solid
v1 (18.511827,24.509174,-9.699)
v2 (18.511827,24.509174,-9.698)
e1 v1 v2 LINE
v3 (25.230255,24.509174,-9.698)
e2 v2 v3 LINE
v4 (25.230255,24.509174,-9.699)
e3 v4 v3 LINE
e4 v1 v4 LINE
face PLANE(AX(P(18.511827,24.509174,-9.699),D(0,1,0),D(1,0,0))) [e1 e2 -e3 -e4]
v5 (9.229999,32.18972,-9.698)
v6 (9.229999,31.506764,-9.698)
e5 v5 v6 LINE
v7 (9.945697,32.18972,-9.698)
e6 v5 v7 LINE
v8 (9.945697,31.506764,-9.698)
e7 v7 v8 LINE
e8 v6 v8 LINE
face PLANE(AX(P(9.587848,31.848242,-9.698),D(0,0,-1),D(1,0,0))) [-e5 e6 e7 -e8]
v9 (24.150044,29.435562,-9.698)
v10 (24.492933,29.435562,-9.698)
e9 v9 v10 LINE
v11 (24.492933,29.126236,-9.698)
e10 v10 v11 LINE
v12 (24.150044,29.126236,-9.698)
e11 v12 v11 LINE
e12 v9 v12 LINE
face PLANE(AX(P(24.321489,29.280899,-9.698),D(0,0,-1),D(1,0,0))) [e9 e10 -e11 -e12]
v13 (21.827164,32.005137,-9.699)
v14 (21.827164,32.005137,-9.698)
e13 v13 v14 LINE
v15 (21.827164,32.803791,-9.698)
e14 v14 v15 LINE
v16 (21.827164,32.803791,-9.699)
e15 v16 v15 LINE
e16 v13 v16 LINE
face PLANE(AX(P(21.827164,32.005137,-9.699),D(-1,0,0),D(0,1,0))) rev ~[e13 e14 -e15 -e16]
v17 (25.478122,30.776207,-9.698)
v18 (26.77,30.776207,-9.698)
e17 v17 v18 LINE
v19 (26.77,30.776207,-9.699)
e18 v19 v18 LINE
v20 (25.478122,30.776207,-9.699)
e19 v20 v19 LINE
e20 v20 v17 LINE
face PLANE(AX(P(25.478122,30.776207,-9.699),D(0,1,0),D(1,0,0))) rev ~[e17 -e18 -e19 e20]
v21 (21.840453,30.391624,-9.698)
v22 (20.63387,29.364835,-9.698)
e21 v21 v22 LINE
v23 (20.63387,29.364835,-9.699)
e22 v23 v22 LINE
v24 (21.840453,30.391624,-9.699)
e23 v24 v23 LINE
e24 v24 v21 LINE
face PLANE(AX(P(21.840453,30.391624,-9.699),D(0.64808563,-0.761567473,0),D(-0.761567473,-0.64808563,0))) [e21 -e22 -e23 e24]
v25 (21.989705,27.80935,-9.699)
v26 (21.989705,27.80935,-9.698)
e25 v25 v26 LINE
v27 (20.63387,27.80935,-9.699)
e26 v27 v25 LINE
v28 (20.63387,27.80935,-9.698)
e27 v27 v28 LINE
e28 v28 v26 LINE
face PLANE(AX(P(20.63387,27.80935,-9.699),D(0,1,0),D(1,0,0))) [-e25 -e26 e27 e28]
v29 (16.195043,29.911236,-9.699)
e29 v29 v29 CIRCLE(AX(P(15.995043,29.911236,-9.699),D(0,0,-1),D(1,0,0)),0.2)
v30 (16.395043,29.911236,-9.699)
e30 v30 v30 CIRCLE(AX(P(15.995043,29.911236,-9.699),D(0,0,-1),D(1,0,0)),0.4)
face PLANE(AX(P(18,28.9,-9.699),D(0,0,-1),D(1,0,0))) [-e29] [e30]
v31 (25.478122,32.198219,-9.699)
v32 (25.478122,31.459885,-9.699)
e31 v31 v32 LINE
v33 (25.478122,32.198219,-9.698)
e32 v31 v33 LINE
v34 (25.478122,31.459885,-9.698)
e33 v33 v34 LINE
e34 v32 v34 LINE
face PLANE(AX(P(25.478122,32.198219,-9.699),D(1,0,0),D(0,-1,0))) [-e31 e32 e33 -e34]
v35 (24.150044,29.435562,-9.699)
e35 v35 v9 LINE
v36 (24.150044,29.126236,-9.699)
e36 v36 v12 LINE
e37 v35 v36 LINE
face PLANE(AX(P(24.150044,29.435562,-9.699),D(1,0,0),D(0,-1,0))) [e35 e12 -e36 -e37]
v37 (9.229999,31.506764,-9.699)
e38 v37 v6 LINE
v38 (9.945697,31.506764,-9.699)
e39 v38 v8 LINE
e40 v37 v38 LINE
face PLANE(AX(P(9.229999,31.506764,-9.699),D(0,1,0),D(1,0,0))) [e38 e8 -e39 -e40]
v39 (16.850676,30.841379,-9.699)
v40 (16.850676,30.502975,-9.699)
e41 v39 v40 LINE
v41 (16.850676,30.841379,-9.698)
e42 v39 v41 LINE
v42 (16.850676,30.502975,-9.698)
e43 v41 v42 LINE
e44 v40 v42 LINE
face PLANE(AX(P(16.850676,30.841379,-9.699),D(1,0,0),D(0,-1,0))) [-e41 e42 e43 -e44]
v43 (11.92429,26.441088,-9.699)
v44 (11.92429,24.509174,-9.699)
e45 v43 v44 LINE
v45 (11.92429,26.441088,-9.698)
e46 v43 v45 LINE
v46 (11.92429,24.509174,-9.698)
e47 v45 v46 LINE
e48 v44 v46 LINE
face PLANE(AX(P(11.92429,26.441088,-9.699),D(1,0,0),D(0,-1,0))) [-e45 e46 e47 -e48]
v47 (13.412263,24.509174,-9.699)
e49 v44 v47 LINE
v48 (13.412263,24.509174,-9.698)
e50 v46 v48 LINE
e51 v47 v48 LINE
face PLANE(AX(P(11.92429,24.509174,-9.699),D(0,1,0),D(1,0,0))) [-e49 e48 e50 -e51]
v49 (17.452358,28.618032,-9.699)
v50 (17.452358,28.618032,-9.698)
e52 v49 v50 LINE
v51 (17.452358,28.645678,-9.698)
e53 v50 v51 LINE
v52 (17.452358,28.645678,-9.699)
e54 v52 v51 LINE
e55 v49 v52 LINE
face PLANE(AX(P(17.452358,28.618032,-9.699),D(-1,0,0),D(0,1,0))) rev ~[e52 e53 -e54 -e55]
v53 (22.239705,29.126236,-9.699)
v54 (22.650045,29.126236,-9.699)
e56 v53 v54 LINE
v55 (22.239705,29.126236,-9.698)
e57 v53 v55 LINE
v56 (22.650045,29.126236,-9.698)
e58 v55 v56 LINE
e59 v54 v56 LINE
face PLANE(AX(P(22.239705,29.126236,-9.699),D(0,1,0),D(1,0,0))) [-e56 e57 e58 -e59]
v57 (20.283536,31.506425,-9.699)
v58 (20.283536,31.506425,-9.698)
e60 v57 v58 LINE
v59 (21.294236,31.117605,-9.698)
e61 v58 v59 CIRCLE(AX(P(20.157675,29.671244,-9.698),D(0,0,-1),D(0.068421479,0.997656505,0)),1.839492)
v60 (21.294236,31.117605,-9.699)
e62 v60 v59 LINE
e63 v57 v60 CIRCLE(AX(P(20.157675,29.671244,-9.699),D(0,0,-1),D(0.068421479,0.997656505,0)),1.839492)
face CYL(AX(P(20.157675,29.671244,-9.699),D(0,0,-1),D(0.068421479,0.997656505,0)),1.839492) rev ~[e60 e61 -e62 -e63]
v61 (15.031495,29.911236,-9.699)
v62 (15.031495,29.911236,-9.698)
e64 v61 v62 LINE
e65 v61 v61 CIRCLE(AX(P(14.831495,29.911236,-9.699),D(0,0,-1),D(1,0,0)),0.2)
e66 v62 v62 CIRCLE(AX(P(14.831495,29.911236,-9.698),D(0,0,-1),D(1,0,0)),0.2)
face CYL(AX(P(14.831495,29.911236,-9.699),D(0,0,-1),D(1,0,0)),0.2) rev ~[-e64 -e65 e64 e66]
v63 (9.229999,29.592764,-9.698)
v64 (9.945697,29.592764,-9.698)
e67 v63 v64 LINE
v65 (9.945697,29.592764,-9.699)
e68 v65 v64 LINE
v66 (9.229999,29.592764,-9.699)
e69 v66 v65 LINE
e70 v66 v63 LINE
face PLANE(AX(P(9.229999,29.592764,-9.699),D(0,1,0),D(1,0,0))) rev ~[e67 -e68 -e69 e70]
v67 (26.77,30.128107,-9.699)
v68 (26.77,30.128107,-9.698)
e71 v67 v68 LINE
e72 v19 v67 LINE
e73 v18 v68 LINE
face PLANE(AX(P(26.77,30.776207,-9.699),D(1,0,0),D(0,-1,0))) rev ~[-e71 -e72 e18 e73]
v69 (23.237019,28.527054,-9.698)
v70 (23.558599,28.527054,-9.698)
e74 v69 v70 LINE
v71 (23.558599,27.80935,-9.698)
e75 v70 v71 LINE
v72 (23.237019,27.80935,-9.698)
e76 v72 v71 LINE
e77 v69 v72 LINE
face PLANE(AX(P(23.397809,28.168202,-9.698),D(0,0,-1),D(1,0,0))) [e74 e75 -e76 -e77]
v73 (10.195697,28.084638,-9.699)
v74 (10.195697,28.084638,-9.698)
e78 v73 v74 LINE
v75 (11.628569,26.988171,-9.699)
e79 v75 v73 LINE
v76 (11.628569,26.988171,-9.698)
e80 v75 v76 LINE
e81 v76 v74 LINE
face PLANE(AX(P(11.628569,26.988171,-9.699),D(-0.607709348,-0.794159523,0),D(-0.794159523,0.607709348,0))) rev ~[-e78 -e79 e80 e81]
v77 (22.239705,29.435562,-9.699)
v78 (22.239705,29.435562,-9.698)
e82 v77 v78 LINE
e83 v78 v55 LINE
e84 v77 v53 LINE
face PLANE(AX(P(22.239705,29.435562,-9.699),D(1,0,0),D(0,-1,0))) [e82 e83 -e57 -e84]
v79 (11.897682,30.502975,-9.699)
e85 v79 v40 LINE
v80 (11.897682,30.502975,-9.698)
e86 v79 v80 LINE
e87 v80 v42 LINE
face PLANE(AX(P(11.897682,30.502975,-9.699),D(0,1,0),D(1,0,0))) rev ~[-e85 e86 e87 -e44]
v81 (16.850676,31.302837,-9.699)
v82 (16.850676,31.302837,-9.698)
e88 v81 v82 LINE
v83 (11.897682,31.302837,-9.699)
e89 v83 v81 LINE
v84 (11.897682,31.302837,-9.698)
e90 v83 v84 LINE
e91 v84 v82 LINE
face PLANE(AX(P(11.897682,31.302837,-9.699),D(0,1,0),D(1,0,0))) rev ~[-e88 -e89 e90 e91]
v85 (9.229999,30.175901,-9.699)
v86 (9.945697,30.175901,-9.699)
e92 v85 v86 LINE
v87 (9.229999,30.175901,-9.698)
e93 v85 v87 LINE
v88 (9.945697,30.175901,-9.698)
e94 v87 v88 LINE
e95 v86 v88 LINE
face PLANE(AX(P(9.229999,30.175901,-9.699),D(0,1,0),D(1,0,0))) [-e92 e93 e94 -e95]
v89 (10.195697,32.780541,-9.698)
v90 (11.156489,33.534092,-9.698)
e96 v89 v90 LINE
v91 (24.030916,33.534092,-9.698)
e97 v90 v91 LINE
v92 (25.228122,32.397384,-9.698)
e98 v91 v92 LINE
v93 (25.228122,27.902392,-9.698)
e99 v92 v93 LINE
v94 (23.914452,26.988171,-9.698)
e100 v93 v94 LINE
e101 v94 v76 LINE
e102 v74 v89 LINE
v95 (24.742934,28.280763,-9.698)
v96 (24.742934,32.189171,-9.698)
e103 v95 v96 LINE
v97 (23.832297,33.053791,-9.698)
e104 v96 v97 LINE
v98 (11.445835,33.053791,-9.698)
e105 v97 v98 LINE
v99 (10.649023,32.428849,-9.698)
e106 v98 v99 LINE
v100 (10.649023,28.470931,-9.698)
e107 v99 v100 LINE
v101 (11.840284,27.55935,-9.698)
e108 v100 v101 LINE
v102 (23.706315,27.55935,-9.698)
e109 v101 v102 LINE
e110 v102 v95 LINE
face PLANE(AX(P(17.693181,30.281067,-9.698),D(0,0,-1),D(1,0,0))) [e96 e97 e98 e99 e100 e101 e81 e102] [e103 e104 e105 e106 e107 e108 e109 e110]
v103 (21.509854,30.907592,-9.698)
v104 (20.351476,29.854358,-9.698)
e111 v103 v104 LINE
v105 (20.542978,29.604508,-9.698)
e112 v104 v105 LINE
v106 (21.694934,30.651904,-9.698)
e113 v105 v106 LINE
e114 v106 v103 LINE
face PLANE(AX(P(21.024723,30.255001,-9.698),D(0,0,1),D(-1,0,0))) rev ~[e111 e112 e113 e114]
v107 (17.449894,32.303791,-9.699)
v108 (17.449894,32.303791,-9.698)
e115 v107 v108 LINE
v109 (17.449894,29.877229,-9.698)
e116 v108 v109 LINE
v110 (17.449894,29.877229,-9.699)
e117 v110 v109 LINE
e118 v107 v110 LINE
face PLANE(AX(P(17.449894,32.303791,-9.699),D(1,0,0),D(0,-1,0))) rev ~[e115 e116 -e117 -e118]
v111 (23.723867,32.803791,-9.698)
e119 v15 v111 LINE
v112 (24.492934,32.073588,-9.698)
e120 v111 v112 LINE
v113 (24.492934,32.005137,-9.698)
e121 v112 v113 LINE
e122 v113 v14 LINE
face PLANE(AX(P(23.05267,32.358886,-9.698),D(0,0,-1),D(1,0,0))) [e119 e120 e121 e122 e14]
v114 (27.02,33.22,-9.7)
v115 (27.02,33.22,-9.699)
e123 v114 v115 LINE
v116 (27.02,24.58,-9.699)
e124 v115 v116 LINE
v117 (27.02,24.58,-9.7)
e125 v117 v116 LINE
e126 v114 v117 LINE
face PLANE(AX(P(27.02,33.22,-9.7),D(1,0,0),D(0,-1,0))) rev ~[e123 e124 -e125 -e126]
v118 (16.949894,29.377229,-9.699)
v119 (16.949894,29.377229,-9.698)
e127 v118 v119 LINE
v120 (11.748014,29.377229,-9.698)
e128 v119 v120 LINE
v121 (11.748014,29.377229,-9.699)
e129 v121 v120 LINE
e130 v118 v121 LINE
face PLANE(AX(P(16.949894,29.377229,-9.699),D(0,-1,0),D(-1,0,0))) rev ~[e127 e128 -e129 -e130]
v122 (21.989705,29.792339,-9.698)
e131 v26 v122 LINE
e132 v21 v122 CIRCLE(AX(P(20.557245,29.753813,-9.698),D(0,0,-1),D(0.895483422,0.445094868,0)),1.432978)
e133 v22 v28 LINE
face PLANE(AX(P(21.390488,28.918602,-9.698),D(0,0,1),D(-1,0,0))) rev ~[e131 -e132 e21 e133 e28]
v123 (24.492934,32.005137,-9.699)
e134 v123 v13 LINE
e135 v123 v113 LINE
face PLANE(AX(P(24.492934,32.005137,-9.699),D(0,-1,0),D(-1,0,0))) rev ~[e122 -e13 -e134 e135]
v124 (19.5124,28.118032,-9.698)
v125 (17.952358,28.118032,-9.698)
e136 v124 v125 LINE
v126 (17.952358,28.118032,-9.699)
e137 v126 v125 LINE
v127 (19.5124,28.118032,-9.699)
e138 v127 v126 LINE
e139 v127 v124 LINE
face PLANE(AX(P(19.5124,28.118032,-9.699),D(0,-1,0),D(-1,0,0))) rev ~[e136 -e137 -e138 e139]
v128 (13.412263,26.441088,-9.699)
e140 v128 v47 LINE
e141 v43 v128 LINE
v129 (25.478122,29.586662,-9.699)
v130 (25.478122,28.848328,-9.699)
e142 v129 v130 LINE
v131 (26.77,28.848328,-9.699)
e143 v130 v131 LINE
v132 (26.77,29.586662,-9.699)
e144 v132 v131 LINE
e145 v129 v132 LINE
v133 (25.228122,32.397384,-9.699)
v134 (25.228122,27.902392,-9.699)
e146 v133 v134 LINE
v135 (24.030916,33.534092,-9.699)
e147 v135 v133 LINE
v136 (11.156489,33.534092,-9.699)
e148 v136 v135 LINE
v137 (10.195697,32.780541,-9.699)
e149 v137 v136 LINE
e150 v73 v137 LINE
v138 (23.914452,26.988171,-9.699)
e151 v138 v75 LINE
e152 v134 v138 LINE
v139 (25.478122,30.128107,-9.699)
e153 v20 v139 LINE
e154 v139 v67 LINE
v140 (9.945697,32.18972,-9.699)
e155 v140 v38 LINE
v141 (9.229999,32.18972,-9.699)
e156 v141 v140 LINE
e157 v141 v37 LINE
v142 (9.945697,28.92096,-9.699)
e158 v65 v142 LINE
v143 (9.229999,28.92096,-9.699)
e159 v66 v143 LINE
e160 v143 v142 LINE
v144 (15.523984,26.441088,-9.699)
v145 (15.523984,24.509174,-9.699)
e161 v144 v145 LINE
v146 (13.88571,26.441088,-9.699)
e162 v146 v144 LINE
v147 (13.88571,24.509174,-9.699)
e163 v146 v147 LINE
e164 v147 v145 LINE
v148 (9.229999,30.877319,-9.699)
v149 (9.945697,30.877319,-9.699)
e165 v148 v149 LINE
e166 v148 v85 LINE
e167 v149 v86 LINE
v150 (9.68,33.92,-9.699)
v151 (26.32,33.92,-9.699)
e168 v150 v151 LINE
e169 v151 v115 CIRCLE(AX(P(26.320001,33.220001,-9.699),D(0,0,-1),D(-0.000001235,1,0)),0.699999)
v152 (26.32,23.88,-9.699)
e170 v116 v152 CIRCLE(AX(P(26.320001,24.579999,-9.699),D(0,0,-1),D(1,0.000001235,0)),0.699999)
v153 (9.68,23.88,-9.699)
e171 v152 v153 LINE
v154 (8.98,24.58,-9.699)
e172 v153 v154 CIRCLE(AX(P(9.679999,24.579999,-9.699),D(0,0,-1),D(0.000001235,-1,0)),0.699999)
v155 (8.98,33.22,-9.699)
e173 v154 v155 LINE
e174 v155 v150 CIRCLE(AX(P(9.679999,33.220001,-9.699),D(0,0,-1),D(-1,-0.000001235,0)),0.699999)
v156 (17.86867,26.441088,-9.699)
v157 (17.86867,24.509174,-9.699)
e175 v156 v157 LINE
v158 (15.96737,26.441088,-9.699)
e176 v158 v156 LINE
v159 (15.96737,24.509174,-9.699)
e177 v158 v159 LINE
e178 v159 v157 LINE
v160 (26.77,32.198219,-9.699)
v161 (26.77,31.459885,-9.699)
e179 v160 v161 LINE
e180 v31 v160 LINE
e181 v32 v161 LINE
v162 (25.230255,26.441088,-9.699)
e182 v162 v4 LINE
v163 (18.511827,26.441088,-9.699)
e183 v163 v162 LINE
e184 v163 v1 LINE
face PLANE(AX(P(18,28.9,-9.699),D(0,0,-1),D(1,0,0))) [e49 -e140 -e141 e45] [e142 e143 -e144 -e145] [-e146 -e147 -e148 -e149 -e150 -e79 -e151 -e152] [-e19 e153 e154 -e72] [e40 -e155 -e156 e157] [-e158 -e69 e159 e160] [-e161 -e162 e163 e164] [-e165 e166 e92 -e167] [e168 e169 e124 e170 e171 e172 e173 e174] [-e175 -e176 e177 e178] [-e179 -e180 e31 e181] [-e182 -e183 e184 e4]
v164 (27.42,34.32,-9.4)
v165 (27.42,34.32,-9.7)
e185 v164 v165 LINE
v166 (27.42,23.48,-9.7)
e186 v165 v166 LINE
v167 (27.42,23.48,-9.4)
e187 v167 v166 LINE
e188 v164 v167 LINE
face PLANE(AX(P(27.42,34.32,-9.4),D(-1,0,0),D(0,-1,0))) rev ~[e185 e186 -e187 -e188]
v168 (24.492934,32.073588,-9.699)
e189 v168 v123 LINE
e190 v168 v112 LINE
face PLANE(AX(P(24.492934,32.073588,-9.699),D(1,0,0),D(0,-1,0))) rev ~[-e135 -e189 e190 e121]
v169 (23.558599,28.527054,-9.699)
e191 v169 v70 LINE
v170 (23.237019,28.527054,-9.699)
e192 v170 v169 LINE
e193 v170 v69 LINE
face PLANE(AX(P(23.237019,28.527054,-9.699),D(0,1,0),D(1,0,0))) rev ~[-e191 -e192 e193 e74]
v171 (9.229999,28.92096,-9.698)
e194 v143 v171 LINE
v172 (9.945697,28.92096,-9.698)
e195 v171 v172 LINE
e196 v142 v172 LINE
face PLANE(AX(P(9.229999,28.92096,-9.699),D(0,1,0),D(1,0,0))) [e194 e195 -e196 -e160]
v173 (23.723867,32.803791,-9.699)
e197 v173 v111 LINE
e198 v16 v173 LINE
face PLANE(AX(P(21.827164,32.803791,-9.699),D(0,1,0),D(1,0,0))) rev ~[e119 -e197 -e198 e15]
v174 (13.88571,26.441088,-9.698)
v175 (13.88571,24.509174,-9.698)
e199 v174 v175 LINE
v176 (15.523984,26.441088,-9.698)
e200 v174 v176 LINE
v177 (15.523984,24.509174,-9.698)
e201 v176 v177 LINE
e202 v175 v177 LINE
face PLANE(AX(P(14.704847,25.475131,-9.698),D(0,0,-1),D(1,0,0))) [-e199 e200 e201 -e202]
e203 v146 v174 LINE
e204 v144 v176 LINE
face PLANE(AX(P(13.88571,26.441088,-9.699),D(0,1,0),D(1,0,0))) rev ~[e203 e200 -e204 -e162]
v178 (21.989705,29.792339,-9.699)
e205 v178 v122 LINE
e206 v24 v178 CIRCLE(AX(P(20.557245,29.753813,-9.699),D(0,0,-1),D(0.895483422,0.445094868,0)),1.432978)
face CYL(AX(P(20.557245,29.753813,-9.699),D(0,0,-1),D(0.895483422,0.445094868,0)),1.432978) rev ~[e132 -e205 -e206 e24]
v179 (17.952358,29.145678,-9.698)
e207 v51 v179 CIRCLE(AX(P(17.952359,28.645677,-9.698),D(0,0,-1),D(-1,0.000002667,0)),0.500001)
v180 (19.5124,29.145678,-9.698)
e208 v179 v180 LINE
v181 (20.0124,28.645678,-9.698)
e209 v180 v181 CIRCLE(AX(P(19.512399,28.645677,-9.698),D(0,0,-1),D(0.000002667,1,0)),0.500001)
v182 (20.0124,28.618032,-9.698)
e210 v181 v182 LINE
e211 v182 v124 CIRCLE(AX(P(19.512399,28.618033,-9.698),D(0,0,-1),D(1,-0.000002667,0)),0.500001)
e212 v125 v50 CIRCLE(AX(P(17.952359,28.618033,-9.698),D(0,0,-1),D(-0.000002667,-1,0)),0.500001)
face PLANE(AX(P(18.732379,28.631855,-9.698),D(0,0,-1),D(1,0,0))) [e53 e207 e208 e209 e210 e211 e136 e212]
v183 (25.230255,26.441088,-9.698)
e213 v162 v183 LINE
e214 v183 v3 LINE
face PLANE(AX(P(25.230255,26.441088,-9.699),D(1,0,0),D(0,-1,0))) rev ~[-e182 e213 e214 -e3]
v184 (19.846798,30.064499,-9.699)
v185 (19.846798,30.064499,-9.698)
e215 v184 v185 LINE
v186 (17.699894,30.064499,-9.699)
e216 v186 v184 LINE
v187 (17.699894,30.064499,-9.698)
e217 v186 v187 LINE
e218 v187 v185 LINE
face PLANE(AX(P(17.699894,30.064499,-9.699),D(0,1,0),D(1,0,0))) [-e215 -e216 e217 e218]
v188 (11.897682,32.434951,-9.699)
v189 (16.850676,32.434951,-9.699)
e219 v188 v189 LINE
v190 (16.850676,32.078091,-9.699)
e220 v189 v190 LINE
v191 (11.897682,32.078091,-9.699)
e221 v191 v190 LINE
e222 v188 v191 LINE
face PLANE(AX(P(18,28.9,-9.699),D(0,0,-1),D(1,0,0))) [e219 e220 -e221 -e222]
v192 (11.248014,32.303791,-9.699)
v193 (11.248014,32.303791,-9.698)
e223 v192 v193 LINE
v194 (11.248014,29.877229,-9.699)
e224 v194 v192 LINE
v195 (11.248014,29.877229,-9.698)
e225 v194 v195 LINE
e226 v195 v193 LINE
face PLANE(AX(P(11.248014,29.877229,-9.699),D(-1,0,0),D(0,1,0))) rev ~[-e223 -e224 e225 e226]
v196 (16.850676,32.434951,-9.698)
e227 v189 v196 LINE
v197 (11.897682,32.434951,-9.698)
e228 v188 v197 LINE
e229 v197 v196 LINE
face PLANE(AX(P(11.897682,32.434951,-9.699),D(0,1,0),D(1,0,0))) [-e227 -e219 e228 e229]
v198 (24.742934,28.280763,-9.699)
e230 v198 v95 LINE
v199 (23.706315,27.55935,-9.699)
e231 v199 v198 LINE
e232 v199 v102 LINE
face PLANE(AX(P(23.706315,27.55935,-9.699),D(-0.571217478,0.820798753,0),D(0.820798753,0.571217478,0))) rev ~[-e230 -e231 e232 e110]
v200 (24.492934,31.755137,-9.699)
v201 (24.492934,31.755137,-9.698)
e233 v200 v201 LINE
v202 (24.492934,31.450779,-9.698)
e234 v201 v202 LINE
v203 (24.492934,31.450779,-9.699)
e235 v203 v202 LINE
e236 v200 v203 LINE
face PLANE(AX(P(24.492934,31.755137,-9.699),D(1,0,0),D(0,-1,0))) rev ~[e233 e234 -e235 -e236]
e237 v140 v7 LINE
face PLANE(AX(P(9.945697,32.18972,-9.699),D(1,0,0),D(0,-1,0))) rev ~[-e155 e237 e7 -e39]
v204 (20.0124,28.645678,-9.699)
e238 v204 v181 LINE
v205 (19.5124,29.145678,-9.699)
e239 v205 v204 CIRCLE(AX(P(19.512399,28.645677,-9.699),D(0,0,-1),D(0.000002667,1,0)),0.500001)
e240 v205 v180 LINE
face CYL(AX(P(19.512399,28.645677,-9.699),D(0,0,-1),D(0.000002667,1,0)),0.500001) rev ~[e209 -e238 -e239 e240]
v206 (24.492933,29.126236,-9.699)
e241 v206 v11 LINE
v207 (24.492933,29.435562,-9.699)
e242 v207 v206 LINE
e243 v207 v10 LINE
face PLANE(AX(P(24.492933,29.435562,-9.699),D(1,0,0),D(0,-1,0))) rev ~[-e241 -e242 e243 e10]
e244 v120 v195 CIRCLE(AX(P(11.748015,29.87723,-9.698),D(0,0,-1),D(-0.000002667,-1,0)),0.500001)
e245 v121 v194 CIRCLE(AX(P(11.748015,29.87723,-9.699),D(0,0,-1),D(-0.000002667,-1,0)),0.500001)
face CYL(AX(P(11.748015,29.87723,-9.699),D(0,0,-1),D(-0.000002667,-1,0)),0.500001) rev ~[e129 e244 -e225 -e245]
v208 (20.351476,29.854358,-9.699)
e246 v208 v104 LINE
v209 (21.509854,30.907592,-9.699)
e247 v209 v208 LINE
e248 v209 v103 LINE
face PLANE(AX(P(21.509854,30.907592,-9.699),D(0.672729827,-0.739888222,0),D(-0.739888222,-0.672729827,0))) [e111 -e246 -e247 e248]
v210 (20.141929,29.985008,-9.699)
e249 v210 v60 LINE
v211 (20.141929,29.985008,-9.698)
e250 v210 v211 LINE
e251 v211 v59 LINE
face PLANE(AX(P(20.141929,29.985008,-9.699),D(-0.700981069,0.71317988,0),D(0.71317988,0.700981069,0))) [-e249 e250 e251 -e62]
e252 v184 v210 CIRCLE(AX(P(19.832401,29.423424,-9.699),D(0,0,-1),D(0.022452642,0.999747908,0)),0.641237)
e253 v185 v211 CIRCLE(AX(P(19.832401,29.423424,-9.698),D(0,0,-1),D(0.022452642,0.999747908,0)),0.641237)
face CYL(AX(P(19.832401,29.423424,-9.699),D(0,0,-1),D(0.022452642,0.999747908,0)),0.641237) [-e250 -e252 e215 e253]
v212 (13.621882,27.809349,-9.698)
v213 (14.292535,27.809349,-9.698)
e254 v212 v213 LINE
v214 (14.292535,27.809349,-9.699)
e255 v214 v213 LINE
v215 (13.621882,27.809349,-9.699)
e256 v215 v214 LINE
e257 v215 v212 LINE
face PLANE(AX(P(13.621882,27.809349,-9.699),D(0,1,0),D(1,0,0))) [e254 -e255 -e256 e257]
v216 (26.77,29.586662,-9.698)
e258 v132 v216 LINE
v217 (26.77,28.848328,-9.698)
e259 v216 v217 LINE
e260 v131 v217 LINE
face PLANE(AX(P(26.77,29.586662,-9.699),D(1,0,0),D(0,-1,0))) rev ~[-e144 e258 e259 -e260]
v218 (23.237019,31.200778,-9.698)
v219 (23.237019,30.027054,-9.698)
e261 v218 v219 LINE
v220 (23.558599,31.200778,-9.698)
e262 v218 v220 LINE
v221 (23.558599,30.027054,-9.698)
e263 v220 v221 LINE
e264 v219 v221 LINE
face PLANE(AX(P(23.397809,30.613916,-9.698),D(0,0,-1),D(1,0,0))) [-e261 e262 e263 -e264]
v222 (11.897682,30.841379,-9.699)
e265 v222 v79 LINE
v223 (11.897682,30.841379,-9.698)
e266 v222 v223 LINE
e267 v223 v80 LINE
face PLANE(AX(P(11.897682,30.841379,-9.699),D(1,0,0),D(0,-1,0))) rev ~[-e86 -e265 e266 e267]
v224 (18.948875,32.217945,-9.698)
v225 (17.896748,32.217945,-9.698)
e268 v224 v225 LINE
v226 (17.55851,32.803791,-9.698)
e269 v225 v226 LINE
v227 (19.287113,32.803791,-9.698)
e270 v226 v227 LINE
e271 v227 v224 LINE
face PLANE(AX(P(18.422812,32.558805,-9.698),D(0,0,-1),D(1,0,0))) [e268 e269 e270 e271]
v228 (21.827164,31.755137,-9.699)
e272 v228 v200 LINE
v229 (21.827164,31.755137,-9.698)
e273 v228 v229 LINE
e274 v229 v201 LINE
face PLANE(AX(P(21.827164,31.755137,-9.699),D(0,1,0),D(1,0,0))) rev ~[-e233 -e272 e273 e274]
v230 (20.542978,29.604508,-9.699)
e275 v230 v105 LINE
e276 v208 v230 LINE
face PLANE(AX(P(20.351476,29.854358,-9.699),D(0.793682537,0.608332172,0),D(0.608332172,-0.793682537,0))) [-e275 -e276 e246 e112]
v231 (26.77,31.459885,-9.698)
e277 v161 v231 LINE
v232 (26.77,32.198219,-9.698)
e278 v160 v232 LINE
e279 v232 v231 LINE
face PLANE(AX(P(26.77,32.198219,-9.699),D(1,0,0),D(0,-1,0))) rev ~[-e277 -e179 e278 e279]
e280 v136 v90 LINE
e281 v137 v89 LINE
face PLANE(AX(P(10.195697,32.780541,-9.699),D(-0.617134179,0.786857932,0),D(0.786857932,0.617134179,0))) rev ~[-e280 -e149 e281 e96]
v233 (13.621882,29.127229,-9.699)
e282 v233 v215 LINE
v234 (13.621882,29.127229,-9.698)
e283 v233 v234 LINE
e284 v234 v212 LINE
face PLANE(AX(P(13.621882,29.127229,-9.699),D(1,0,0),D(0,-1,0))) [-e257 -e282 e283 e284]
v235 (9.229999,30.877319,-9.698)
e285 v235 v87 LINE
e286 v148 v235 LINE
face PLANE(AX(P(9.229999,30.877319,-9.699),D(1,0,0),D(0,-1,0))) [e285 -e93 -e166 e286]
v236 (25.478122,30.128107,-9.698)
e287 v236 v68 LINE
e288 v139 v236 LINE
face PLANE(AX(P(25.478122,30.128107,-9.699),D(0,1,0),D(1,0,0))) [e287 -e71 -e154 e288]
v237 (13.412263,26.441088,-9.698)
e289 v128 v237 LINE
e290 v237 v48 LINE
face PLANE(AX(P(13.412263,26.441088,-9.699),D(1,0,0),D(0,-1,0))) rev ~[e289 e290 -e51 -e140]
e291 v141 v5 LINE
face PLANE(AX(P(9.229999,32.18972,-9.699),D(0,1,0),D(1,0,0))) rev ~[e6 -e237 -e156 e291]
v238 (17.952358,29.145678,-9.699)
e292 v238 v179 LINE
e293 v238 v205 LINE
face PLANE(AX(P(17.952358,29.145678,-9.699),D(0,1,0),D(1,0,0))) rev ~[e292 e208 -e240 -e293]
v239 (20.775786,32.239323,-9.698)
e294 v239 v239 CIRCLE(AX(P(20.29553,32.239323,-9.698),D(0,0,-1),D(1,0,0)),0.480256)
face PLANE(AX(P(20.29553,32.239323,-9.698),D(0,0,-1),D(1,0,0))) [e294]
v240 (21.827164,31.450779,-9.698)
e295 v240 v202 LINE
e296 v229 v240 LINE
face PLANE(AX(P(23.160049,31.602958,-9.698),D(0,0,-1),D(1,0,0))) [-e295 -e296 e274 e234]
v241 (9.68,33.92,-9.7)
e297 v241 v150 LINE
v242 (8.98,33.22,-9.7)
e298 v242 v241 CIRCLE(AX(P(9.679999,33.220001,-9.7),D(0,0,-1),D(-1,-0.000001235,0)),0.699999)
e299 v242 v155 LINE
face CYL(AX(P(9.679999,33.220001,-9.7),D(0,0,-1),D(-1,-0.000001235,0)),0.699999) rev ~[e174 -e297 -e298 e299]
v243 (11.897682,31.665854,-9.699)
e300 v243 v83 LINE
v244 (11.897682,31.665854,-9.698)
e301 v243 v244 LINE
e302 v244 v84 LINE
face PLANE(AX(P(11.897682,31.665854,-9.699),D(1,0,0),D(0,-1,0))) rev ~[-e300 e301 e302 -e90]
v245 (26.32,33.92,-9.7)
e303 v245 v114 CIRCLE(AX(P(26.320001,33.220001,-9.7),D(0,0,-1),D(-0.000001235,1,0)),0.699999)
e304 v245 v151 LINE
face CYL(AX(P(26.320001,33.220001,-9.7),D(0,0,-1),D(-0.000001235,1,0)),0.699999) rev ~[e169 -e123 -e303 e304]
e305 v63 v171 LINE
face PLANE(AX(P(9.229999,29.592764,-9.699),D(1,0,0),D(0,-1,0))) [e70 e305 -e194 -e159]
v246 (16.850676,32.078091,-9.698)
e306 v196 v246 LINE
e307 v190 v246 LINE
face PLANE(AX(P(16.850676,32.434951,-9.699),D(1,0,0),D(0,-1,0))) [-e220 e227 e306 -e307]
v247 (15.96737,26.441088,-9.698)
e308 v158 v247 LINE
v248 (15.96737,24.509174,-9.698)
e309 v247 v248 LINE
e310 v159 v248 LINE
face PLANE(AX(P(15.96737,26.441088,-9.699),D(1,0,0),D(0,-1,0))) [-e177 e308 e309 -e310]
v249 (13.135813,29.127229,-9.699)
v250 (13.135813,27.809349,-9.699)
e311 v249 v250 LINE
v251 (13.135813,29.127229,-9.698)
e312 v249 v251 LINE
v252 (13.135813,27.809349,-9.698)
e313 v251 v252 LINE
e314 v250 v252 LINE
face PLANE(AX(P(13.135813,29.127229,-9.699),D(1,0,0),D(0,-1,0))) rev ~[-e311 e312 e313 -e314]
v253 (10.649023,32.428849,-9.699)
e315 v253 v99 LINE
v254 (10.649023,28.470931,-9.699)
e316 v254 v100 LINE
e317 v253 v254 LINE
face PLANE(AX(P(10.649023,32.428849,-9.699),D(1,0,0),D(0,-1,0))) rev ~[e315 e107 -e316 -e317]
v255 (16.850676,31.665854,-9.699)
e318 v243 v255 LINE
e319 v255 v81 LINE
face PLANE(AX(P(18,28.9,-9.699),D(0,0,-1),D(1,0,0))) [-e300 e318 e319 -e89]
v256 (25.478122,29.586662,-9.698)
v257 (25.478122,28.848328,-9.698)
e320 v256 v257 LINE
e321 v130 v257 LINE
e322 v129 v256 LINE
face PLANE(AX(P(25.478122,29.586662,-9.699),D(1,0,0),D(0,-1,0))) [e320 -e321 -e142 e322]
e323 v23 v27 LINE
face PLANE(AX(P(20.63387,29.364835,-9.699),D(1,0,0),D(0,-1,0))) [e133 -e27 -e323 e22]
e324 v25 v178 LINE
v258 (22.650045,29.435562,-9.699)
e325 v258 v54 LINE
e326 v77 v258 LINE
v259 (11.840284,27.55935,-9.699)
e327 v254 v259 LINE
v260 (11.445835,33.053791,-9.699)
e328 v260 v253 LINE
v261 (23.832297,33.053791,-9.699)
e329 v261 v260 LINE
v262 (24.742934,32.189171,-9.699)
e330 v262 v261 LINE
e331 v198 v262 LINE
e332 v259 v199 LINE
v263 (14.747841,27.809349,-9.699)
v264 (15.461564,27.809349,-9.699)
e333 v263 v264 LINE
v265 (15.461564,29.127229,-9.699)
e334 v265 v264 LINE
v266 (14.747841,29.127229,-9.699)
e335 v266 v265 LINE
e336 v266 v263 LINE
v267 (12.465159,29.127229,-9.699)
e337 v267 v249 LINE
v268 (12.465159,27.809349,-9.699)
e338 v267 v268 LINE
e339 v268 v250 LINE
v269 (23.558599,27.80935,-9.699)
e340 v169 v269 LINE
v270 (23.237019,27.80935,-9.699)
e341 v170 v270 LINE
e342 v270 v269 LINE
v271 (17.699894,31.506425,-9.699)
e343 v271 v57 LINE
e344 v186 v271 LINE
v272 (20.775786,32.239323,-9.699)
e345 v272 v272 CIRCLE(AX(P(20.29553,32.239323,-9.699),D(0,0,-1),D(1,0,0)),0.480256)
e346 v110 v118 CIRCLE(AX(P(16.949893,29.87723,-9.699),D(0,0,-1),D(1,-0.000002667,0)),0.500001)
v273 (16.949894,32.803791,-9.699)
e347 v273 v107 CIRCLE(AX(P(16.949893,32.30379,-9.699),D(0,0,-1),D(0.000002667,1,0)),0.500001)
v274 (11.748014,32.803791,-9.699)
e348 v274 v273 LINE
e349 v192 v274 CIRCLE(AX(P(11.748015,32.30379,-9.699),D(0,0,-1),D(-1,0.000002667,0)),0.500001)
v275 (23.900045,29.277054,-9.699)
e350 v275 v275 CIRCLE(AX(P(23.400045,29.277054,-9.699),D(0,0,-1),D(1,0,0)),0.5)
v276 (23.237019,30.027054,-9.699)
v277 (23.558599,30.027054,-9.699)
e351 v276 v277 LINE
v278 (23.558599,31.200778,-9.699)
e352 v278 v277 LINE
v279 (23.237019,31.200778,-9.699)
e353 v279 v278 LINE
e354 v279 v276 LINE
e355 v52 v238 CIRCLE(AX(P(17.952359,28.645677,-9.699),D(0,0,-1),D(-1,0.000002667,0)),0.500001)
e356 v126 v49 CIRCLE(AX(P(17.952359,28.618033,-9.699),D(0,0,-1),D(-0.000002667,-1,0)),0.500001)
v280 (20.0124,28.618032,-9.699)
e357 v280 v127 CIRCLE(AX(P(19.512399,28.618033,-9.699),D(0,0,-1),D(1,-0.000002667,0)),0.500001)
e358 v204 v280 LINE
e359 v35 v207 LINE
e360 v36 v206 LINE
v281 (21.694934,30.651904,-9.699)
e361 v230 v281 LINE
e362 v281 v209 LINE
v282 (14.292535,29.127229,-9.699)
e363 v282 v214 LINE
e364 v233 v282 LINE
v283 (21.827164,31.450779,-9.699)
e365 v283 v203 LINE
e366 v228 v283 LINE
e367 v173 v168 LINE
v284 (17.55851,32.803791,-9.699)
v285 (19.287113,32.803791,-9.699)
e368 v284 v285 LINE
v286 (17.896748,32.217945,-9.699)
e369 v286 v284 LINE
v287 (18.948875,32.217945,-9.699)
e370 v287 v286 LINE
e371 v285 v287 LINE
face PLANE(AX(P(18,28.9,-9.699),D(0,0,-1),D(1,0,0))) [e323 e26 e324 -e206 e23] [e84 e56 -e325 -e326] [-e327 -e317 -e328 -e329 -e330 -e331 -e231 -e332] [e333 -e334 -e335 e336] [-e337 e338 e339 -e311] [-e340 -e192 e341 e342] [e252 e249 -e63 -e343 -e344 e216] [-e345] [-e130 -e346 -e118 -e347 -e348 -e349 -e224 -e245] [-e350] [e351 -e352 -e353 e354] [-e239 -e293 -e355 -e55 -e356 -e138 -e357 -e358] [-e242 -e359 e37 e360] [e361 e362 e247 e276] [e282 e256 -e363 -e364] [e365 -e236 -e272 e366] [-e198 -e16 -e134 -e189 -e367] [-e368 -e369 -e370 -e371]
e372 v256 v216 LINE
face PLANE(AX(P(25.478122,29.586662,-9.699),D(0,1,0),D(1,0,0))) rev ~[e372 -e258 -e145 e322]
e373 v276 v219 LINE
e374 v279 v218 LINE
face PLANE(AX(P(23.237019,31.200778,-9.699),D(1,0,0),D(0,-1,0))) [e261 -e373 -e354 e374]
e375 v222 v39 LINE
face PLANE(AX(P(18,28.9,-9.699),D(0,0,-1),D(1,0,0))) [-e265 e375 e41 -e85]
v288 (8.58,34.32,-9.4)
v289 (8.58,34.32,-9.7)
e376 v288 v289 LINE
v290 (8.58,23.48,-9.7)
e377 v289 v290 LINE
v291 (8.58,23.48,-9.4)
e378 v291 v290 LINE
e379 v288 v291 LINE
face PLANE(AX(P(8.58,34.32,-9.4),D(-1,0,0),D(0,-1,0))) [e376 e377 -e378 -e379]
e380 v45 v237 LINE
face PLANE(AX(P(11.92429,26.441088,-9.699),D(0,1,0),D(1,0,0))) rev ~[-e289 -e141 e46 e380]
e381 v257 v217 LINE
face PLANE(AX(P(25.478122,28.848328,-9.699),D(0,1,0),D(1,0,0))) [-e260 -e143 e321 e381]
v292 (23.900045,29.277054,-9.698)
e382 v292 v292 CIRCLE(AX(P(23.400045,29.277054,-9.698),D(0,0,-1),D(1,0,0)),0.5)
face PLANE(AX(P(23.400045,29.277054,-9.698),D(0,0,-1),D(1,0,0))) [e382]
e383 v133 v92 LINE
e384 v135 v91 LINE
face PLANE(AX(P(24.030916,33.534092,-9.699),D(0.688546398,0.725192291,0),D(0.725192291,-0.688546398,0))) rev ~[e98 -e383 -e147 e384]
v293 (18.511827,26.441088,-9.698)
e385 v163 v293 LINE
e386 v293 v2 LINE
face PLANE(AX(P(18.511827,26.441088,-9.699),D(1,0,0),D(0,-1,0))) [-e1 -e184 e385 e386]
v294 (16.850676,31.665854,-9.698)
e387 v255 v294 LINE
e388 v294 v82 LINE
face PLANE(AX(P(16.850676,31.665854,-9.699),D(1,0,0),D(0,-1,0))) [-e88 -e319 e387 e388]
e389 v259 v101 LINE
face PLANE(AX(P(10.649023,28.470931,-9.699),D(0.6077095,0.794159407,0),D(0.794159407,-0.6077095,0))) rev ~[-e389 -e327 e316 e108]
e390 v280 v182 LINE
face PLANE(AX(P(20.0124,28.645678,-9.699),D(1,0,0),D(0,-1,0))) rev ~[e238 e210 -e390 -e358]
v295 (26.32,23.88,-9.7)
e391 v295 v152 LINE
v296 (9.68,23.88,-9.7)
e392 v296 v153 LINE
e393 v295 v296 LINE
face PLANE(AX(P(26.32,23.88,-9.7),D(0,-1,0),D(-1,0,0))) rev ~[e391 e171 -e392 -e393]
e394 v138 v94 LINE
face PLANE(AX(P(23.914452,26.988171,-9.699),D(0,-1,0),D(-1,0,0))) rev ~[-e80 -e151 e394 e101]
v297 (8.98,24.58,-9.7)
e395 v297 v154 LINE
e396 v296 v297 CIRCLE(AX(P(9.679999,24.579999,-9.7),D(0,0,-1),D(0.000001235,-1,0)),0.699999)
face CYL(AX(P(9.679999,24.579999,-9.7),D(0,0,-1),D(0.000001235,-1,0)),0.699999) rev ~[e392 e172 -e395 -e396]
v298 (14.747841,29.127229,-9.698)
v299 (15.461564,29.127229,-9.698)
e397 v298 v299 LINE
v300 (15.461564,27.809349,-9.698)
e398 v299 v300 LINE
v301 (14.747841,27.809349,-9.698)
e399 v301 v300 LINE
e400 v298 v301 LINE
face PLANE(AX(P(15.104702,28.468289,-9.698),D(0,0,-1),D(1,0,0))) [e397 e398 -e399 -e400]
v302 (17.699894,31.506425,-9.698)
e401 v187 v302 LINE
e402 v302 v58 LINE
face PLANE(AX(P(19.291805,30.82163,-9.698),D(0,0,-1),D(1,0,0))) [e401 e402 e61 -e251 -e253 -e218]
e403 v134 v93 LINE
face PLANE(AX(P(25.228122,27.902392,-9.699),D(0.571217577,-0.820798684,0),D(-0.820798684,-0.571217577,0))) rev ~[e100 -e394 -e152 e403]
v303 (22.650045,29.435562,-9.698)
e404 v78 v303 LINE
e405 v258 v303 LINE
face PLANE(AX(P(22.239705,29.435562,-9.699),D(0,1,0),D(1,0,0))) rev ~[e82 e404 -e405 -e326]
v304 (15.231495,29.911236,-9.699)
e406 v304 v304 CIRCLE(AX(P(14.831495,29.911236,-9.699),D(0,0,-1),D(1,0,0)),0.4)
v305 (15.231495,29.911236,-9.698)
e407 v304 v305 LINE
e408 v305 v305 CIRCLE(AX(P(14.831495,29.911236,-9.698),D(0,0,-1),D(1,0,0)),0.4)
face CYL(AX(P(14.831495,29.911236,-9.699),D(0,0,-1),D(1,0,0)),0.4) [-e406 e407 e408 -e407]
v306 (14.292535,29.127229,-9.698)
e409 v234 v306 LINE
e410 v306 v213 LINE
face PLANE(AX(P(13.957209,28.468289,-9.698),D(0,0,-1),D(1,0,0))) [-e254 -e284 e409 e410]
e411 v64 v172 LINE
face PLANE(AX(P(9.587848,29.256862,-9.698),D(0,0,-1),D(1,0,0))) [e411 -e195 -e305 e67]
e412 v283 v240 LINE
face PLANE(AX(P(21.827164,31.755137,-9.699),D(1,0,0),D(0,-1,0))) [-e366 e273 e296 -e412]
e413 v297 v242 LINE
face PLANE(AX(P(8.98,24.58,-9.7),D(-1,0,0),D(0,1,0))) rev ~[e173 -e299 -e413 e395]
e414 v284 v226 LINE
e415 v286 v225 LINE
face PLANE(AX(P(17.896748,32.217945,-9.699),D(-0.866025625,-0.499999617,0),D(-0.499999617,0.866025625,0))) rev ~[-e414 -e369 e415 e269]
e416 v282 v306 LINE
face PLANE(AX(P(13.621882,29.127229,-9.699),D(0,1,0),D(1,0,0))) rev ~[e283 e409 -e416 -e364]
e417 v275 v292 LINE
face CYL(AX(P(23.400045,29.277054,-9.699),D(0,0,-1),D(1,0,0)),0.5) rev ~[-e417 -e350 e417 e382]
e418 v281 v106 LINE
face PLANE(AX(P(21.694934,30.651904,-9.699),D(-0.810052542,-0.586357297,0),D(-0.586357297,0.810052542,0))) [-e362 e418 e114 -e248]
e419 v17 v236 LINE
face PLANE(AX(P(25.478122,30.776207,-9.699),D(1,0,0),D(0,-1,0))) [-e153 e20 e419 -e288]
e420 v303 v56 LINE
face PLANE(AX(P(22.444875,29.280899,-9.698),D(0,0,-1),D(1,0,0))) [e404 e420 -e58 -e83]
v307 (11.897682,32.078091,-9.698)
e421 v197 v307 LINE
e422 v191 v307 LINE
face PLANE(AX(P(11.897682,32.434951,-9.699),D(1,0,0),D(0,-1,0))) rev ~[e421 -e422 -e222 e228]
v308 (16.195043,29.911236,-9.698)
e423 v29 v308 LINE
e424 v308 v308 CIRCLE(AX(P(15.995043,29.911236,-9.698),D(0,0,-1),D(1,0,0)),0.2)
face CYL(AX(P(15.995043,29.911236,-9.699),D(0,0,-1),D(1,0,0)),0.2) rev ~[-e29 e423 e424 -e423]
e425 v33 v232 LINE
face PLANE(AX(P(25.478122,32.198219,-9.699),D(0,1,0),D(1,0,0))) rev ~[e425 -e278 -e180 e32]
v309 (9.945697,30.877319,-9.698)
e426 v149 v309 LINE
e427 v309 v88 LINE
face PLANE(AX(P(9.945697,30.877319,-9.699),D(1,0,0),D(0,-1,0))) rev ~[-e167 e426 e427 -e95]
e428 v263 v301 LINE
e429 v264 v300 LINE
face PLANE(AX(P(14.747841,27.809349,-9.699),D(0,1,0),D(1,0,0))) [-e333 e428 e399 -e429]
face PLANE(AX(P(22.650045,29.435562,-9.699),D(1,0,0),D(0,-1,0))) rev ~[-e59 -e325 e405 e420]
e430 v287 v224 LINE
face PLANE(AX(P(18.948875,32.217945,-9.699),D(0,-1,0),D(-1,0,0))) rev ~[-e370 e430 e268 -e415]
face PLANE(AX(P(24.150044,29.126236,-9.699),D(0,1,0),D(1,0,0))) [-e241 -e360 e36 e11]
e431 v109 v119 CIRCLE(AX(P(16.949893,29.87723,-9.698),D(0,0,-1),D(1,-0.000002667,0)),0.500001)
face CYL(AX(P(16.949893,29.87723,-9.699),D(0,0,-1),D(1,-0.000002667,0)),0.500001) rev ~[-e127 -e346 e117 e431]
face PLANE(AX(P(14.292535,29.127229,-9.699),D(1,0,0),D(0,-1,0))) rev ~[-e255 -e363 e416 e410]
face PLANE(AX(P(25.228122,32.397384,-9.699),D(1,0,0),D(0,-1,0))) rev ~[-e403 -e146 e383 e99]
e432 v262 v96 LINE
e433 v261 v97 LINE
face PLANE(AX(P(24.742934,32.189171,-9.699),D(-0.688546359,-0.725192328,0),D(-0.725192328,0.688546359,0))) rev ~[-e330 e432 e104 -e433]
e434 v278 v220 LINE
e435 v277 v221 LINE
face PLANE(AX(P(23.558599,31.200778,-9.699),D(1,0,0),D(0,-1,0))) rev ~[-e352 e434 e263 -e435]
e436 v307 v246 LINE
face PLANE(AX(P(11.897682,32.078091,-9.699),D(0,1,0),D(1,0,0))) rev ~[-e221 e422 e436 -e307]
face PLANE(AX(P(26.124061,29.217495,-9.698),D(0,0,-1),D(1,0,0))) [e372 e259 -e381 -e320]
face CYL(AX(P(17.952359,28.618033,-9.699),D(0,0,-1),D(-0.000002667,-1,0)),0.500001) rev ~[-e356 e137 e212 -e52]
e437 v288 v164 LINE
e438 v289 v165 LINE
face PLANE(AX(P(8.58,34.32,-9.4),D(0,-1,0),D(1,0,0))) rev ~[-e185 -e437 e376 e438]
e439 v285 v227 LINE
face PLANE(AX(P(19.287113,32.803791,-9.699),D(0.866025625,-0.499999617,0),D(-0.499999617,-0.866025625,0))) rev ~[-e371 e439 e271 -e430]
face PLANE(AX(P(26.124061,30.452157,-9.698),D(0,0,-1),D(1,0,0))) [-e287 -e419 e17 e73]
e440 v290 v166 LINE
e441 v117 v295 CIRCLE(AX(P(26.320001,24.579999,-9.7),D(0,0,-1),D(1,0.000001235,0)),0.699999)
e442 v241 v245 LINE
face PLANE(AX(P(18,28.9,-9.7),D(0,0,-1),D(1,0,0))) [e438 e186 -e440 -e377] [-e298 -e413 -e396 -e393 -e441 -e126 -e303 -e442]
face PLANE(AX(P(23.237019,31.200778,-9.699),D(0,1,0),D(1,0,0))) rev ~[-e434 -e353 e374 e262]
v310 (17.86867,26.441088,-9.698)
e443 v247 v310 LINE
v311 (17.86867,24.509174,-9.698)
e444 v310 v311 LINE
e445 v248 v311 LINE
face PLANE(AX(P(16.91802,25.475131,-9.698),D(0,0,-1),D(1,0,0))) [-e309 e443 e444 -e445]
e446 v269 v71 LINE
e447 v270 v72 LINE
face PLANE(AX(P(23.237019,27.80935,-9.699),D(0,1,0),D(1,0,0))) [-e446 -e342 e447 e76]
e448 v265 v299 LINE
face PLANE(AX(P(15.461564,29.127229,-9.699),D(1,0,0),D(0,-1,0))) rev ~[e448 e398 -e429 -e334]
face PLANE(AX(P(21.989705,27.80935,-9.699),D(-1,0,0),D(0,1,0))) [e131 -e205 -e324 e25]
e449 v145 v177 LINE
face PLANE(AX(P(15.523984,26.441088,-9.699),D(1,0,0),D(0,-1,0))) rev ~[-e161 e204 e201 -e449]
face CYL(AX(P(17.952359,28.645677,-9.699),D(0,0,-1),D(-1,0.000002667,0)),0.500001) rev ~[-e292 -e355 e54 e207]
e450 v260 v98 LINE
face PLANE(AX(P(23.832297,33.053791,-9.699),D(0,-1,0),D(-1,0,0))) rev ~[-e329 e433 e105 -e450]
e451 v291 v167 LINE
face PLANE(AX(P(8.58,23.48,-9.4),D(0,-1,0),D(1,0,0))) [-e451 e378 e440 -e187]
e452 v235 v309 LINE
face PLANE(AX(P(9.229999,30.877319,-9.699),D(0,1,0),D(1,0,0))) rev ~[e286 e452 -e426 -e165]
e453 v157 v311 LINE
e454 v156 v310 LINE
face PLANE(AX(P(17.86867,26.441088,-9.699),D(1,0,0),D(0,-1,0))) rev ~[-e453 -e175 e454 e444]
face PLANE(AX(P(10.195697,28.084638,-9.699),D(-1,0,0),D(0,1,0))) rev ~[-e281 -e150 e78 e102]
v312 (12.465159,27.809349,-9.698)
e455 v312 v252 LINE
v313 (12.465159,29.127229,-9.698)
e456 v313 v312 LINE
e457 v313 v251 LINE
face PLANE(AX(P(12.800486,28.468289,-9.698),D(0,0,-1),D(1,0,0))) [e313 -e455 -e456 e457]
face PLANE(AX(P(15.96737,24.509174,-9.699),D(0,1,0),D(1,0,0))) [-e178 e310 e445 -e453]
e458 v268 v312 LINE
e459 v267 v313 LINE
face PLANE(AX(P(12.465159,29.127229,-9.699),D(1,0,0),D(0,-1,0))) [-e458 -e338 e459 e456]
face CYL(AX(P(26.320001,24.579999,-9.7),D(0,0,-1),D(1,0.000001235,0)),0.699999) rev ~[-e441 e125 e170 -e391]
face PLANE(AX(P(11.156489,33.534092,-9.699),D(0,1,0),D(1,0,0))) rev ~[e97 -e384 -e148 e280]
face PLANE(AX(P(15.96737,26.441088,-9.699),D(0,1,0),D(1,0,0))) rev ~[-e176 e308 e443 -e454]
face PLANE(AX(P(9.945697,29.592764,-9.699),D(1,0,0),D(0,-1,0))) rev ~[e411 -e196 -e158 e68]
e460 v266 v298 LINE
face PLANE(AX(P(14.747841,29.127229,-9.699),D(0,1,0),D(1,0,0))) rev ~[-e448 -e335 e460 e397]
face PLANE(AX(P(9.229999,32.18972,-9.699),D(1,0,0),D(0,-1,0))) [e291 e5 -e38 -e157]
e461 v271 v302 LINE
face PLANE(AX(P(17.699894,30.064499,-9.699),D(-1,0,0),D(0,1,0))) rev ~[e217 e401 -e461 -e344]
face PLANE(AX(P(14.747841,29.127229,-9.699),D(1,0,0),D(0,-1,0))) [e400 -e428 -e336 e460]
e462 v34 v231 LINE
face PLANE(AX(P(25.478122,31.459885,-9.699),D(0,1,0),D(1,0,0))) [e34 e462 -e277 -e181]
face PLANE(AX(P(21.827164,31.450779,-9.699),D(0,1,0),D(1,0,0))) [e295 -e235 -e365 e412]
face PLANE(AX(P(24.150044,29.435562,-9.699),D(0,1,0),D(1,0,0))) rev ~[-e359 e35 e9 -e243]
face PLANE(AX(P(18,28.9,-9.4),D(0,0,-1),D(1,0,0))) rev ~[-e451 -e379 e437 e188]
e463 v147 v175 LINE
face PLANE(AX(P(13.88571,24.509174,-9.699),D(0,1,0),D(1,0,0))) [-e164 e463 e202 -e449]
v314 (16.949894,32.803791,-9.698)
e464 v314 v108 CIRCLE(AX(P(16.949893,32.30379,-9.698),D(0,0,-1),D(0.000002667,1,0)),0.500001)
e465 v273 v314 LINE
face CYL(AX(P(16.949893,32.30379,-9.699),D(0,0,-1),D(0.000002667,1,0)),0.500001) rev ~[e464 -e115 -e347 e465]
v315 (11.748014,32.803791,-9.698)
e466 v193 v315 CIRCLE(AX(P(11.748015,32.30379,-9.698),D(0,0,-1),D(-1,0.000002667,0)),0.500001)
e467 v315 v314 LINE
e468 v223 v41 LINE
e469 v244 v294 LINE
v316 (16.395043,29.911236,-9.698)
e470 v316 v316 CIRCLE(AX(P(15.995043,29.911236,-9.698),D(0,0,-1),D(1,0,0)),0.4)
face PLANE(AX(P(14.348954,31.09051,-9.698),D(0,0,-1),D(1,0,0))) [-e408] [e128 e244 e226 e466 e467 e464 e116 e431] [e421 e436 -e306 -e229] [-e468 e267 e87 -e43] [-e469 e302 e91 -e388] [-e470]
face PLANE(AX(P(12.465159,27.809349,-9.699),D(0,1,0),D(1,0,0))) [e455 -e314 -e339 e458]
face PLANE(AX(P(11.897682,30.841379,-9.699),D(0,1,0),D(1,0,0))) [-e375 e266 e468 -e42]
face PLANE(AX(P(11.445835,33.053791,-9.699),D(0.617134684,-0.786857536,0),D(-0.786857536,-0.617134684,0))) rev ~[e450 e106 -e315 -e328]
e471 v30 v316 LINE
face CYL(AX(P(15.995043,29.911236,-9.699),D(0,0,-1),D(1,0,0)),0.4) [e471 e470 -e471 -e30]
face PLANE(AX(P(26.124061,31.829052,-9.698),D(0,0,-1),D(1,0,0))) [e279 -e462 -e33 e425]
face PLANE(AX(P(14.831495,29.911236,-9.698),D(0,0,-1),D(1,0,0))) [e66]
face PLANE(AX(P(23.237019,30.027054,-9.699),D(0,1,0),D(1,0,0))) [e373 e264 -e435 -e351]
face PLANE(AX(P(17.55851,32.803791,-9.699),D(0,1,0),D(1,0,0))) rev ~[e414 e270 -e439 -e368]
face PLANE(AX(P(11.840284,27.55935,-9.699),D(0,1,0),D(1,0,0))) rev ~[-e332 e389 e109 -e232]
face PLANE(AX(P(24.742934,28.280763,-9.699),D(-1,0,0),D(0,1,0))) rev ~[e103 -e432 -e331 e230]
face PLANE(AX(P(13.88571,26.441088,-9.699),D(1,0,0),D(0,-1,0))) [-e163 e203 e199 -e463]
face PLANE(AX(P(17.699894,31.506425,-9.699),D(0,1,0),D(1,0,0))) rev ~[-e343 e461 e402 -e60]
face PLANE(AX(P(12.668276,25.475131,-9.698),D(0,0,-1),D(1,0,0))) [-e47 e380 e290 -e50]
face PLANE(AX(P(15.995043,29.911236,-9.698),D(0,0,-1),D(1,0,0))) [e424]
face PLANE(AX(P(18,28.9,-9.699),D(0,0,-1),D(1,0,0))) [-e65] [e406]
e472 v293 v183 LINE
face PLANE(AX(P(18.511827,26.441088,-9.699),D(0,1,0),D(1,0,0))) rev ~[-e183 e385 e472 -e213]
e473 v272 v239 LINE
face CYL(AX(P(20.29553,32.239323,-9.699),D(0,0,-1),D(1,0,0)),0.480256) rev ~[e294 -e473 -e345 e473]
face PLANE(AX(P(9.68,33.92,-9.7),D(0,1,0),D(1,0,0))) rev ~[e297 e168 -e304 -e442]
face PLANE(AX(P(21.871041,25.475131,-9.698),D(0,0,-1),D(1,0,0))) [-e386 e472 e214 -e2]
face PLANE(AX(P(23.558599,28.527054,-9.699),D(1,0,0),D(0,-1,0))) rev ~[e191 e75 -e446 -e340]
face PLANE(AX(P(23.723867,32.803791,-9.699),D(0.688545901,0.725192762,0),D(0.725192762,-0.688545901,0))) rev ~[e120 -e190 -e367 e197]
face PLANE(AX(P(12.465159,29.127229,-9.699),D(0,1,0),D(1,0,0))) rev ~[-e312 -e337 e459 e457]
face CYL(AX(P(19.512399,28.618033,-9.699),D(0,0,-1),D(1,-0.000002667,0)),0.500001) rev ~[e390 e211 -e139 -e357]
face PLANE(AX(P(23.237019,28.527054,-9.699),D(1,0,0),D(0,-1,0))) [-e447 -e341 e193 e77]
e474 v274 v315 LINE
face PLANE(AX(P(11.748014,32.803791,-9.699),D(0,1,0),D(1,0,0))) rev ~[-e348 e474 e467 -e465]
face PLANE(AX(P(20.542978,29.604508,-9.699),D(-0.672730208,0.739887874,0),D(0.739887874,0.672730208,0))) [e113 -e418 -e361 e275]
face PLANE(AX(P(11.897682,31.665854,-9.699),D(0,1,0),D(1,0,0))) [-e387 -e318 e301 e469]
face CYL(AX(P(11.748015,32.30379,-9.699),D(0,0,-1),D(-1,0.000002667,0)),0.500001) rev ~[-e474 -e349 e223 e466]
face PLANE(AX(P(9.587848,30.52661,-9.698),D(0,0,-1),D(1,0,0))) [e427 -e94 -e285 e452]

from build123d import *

# Parameters (mm, degrees)
SKETCH_W        = 18.84
SKETCH_H        = 10.84
PAD_DEPTH       = 0.3
POCKET001_DEPTH = 0.001
SKETCH002_W     = 1.487973
SKETCH002_H     = 1.931914
SKETCH002_W_2   = 1.638274
SKETCH002_W_3   = 1.9013
SKETCH002_W_4   = 6.718428
SKETCH002_W_5   = 0.715697
SKETCH002_H_2   = 0.671803
SKETCH002_H_3   = 0.701418
SKETCH002_H_4   = 0.682957
SKETCH002_W_6   = 1.291878
SKETCH002_H_5   = 0.738334
SKETCH002_H_6   = 0.6481
POCKET002_DEPTH = 0.001
SKETCH003_R     = 0.480256
SKETCH003_R_2   = 0.5
SKETCH003_W     = 0.670654
SKETCH003_H     = 1.317879
SKETCH003_W_2   = 0.670653
SKETCH003_W_3   = 0.713723
SKETCH003_R_3   = 0.4
SKETCH003_W_4   = 4.952994
SKETCH003_H_2   = 0.338404
SKETCH003_H_3   = 0.363017
SKETCH003_H_4   = 0.356861
SKETCH003_W_5   = 0.41034
SKETCH003_H_5   = 0.309326
SKETCH003_W_6   = 0.32158
SKETCH003_H_6   = 1.173725
SKETCH003_W_7   = 0.342889
SKETCH003_H_7   = 0.717704
SKETCH003_W_8   = 2.66577
SKETCH003_H_8   = 0.304358
SKETCH003_R_4   = 0.2
POCKET003_DEPTH = 0.001


with BuildPart() as part:
    # Sketch (on Face1 of Binder) → Pad (new body)
    with BuildSketch(Plane(origin=(0, 0, -9.4), x_dir=(1, 0, 0), z_dir=(0, 0, -1))):
        with Locations((18, -28.9)):
            Rectangle(SKETCH_W, SKETCH_H)
    extrude(amount=PAD_DEPTH)

    # Sketch001 (on Face6 of Pad) → Pocket001 (cut)
    with BuildSketch(Plane(origin=(0, 0, -9.7), x_dir=(1, 0, 0), z_dir=(0, 0, -1))):
        with BuildLine():
            Line((8.98, -24.58), (8.98, -33.22))
            ThreePointArc((8.98, -33.22), (9.185025, -33.714975), (9.68, -33.92))
            Line((9.68, -33.92), (26.32, -33.92))
            ThreePointArc((26.32, -33.92), (26.814975, -33.714975), (27.02, -33.22))
            Line((27.02, -33.22), (27.02, -24.58))
            ThreePointArc((27.02, -24.58), (26.814975, -24.085025), (26.32, -23.88))
            Line((26.32, -23.88), (9.68, -23.88))
            ThreePointArc((9.68, -23.88), (9.185025, -24.085025), (8.98, -24.58))
        make_face()
    extrude(amount=-POCKET001_DEPTH, mode=Mode.SUBTRACT)

    # Sketch002 (on Face15 of Pocket001) → Pocket002 (cut)
    with BuildSketch(Plane(origin=(0, 0, -9.699), x_dir=(1, 0, 0), z_dir=(0, 0, -1))):
        with Locations((12.668276, -25.475131)):
            Rectangle(SKETCH002_W, SKETCH002_H)
        with Locations((14.704847, -25.475131)):
            Rectangle(SKETCH002_W_2, SKETCH002_H)
        with Locations((16.91802, -25.475131)):
            Rectangle(SKETCH002_W_3, SKETCH002_H)
        with Locations((21.871041, -25.475131)):
            Rectangle(SKETCH002_W_4, SKETCH002_H)
        with Locations((9.587848, -29.256862)):
            Rectangle(SKETCH002_W_5, SKETCH002_H_2)
        with Locations((9.587848, -30.52661)):
            Rectangle(SKETCH002_W_5, SKETCH002_H_3)
        with Locations((9.587848, -31.848242)):
            Rectangle(SKETCH002_W_5, SKETCH002_H_4)
        with Locations((26.124061, -29.217495)):
            Rectangle(SKETCH002_W_6, SKETCH002_H_5)
        with Locations((26.124061, -30.452157)):
            Rectangle(SKETCH002_W_6, SKETCH002_H_6)
        with Locations((26.124061, -31.829052)):
            Rectangle(SKETCH002_W_6, SKETCH002_H_5)
        Polygon((10.195697, -28.084638), (10.195697, -32.780541), (11.156489, -33.534092), (24.030916, -33.534092), (25.228122, -32.397384), (25.228122, -27.902392), (23.914452, -26.988171), (11.628569, -26.988171), align=None)
        Polygon((10.649023, -28.470931), (11.840284, -27.55935), (23.706315, -27.55935), (24.742934, -28.280763), (24.742934, -32.189171), (23.832297, -33.053791), (11.445835, -33.053791), (10.649023, -32.428849), align=None, mode=Mode.SUBTRACT)
    extrude(amount=-POCKET002_DEPTH, mode=Mode.SUBTRACT)

    # Sketch003 (on Face83 of Pocket002) → Pocket003 (cut)
    with BuildSketch(Plane(origin=(0, 0, -9.699), x_dir=(1, 0, 0), z_dir=(0, 0, -1))):
        with Locations((20.29553, -32.239323)):
            Circle(SKETCH003_R)
        with Locations((23.400045, -29.277054)):
            Circle(SKETCH003_R_2)
        with Locations((12.800486, -28.468289)):
            Rectangle(SKETCH003_W, SKETCH003_H)
        with Locations((13.957209, -28.468289)):
            Rectangle(SKETCH003_W_2, SKETCH003_H)
        with Locations((15.104702, -28.468289)):
            Rectangle(SKETCH003_W_3, SKETCH003_H)
        with BuildLine():
            Line((11.248014, -29.877229), (11.248014, -32.303791))
            ThreePointArc((11.248014, -32.303791), (11.394461, -32.657344), (11.748014, -32.803791))
            Line((11.748014, -32.803791), (16.949894, -32.803791))
            ThreePointArc((16.949894, -32.803791), (17.303447, -32.657344), (17.449894, -32.303791))
            Line((17.449894, -32.303791), (17.449894, -29.877229))
            ThreePointArc((17.449894, -29.877229), (17.303447, -29.523676), (16.949894, -29.377229))
            Line((16.949894, -29.377229), (11.748014, -29.377229))
            ThreePointArc((11.748014, -29.377229), (11.394461, -29.523676), (11.248014, -29.877229))
        make_face()
        with Locations((14.831495, -29.911236)):
            Circle(SKETCH003_R_3, mode=Mode.SUBTRACT)
        with Locations((15.995043, -29.911236)):
            Circle(SKETCH003_R_3, mode=Mode.SUBTRACT)
        with Locations((14.374179, -30.672177)):
            Rectangle(SKETCH003_W_4, SKETCH003_H_2, mode=Mode.SUBTRACT)
        with Locations((14.374179, -31.484345)):
            Rectangle(SKETCH003_W_4, SKETCH003_H_3, mode=Mode.SUBTRACT)
        with Locations((14.374179, -32.256521)):
            Rectangle(SKETCH003_W_4, SKETCH003_H_4, mode=Mode.SUBTRACT)
        with BuildLine():
            Line((17.699894, -30.064499), (17.699894, -31.506425))
            Line((17.699894, -31.506425), (20.283536, -31.506425))
            ThreePointArc((20.283536, -31.506425), (20.818146, -31.388075), (21.294236, -31.117605))
            Line((20.141929, -29.985008), (21.294236, -31.117605))
            ThreePointArc((19.846798, -30.064499), (19.999169, -30.042595), (20.141929, -29.985008))
            Line((17.699894, -30.064499), (19.846798, -30.064499))
        make_face()
        Polygon((20.351476, -29.854358), (20.542978, -29.604508), (21.694934, -30.651904), (21.509854, -30.907592), align=None)
        with BuildLine():
            Line((20.63387, -27.80935), (21.989705, -27.80935))
            Line((21.989705, -27.80935), (21.989705, -29.792339))
            ThreePointArc((21.840453, -30.391624), (21.947748, -30.100118), (21.989705, -29.792339))
            Line((21.840453, -30.391624), (20.63387, -29.364835))
            Line((20.63387, -29.364835), (20.63387, -27.80935))
        make_face()
        with BuildLine():
            Line((17.452358, -28.618032), (17.452358, -28.645678))
            ThreePointArc((17.452358, -28.645678), (17.598805, -28.999231), (17.952358, -29.145678))
            Line((17.952358, -29.145678), (19.5124, -29.145678))
            ThreePointArc((19.5124, -29.145678), (19.865953, -28.999231), (20.0124, -28.645678))
            Line((20.0124, -28.645678), (20.0124, -28.618032))
            ThreePointArc((20.0124, -28.618032), (19.865953, -28.264479), (19.5124, -28.118032))
            Line((19.5124, -28.118032), (17.952358, -28.118032))
            ThreePointArc((17.952358, -28.118032), (17.598805, -28.264479), (17.452358, -28.618032))
        make_face()
        Polygon((17.896748, -32.217945), (17.55851, -32.803791), (19.287113, -32.803791), (18.948875, -32.217945), align=None)
        with Locations((22.444875, -29.280899)):
            Rectangle(SKETCH003_W_5, SKETCH003_H_5)
        with Locations((23.397809, -30.613916)):
            Rectangle(SKETCH003_W_6, SKETCH003_H_6)
        with Locations((24.321489, -29.280899)):
            Rectangle(SKETCH003_W_7, SKETCH003_H_5)
        with Locations((23.397809, -28.168202)):
            Rectangle(SKETCH003_W_6, SKETCH003_H_7)
        with Locations((23.160049, -31.602958)):
            Rectangle(SKETCH003_W_8, SKETCH003_H_8)
        Polygon((21.827164, -32.005137), (21.827164, -32.803791), (23.723867, -32.803791), (24.492934, -32.073588), (24.492934, -32.005137), align=None)
        with Locations((14.831495, -29.911236)):
            Circle(SKETCH003_R_4)
        with Locations((15.995043, -29.911236)):
            Circle(SKETCH003_R_4)
    extrude(amount=-POCKET003_DEPTH, mode=Mode.SUBTRACT)


solid = part.part
